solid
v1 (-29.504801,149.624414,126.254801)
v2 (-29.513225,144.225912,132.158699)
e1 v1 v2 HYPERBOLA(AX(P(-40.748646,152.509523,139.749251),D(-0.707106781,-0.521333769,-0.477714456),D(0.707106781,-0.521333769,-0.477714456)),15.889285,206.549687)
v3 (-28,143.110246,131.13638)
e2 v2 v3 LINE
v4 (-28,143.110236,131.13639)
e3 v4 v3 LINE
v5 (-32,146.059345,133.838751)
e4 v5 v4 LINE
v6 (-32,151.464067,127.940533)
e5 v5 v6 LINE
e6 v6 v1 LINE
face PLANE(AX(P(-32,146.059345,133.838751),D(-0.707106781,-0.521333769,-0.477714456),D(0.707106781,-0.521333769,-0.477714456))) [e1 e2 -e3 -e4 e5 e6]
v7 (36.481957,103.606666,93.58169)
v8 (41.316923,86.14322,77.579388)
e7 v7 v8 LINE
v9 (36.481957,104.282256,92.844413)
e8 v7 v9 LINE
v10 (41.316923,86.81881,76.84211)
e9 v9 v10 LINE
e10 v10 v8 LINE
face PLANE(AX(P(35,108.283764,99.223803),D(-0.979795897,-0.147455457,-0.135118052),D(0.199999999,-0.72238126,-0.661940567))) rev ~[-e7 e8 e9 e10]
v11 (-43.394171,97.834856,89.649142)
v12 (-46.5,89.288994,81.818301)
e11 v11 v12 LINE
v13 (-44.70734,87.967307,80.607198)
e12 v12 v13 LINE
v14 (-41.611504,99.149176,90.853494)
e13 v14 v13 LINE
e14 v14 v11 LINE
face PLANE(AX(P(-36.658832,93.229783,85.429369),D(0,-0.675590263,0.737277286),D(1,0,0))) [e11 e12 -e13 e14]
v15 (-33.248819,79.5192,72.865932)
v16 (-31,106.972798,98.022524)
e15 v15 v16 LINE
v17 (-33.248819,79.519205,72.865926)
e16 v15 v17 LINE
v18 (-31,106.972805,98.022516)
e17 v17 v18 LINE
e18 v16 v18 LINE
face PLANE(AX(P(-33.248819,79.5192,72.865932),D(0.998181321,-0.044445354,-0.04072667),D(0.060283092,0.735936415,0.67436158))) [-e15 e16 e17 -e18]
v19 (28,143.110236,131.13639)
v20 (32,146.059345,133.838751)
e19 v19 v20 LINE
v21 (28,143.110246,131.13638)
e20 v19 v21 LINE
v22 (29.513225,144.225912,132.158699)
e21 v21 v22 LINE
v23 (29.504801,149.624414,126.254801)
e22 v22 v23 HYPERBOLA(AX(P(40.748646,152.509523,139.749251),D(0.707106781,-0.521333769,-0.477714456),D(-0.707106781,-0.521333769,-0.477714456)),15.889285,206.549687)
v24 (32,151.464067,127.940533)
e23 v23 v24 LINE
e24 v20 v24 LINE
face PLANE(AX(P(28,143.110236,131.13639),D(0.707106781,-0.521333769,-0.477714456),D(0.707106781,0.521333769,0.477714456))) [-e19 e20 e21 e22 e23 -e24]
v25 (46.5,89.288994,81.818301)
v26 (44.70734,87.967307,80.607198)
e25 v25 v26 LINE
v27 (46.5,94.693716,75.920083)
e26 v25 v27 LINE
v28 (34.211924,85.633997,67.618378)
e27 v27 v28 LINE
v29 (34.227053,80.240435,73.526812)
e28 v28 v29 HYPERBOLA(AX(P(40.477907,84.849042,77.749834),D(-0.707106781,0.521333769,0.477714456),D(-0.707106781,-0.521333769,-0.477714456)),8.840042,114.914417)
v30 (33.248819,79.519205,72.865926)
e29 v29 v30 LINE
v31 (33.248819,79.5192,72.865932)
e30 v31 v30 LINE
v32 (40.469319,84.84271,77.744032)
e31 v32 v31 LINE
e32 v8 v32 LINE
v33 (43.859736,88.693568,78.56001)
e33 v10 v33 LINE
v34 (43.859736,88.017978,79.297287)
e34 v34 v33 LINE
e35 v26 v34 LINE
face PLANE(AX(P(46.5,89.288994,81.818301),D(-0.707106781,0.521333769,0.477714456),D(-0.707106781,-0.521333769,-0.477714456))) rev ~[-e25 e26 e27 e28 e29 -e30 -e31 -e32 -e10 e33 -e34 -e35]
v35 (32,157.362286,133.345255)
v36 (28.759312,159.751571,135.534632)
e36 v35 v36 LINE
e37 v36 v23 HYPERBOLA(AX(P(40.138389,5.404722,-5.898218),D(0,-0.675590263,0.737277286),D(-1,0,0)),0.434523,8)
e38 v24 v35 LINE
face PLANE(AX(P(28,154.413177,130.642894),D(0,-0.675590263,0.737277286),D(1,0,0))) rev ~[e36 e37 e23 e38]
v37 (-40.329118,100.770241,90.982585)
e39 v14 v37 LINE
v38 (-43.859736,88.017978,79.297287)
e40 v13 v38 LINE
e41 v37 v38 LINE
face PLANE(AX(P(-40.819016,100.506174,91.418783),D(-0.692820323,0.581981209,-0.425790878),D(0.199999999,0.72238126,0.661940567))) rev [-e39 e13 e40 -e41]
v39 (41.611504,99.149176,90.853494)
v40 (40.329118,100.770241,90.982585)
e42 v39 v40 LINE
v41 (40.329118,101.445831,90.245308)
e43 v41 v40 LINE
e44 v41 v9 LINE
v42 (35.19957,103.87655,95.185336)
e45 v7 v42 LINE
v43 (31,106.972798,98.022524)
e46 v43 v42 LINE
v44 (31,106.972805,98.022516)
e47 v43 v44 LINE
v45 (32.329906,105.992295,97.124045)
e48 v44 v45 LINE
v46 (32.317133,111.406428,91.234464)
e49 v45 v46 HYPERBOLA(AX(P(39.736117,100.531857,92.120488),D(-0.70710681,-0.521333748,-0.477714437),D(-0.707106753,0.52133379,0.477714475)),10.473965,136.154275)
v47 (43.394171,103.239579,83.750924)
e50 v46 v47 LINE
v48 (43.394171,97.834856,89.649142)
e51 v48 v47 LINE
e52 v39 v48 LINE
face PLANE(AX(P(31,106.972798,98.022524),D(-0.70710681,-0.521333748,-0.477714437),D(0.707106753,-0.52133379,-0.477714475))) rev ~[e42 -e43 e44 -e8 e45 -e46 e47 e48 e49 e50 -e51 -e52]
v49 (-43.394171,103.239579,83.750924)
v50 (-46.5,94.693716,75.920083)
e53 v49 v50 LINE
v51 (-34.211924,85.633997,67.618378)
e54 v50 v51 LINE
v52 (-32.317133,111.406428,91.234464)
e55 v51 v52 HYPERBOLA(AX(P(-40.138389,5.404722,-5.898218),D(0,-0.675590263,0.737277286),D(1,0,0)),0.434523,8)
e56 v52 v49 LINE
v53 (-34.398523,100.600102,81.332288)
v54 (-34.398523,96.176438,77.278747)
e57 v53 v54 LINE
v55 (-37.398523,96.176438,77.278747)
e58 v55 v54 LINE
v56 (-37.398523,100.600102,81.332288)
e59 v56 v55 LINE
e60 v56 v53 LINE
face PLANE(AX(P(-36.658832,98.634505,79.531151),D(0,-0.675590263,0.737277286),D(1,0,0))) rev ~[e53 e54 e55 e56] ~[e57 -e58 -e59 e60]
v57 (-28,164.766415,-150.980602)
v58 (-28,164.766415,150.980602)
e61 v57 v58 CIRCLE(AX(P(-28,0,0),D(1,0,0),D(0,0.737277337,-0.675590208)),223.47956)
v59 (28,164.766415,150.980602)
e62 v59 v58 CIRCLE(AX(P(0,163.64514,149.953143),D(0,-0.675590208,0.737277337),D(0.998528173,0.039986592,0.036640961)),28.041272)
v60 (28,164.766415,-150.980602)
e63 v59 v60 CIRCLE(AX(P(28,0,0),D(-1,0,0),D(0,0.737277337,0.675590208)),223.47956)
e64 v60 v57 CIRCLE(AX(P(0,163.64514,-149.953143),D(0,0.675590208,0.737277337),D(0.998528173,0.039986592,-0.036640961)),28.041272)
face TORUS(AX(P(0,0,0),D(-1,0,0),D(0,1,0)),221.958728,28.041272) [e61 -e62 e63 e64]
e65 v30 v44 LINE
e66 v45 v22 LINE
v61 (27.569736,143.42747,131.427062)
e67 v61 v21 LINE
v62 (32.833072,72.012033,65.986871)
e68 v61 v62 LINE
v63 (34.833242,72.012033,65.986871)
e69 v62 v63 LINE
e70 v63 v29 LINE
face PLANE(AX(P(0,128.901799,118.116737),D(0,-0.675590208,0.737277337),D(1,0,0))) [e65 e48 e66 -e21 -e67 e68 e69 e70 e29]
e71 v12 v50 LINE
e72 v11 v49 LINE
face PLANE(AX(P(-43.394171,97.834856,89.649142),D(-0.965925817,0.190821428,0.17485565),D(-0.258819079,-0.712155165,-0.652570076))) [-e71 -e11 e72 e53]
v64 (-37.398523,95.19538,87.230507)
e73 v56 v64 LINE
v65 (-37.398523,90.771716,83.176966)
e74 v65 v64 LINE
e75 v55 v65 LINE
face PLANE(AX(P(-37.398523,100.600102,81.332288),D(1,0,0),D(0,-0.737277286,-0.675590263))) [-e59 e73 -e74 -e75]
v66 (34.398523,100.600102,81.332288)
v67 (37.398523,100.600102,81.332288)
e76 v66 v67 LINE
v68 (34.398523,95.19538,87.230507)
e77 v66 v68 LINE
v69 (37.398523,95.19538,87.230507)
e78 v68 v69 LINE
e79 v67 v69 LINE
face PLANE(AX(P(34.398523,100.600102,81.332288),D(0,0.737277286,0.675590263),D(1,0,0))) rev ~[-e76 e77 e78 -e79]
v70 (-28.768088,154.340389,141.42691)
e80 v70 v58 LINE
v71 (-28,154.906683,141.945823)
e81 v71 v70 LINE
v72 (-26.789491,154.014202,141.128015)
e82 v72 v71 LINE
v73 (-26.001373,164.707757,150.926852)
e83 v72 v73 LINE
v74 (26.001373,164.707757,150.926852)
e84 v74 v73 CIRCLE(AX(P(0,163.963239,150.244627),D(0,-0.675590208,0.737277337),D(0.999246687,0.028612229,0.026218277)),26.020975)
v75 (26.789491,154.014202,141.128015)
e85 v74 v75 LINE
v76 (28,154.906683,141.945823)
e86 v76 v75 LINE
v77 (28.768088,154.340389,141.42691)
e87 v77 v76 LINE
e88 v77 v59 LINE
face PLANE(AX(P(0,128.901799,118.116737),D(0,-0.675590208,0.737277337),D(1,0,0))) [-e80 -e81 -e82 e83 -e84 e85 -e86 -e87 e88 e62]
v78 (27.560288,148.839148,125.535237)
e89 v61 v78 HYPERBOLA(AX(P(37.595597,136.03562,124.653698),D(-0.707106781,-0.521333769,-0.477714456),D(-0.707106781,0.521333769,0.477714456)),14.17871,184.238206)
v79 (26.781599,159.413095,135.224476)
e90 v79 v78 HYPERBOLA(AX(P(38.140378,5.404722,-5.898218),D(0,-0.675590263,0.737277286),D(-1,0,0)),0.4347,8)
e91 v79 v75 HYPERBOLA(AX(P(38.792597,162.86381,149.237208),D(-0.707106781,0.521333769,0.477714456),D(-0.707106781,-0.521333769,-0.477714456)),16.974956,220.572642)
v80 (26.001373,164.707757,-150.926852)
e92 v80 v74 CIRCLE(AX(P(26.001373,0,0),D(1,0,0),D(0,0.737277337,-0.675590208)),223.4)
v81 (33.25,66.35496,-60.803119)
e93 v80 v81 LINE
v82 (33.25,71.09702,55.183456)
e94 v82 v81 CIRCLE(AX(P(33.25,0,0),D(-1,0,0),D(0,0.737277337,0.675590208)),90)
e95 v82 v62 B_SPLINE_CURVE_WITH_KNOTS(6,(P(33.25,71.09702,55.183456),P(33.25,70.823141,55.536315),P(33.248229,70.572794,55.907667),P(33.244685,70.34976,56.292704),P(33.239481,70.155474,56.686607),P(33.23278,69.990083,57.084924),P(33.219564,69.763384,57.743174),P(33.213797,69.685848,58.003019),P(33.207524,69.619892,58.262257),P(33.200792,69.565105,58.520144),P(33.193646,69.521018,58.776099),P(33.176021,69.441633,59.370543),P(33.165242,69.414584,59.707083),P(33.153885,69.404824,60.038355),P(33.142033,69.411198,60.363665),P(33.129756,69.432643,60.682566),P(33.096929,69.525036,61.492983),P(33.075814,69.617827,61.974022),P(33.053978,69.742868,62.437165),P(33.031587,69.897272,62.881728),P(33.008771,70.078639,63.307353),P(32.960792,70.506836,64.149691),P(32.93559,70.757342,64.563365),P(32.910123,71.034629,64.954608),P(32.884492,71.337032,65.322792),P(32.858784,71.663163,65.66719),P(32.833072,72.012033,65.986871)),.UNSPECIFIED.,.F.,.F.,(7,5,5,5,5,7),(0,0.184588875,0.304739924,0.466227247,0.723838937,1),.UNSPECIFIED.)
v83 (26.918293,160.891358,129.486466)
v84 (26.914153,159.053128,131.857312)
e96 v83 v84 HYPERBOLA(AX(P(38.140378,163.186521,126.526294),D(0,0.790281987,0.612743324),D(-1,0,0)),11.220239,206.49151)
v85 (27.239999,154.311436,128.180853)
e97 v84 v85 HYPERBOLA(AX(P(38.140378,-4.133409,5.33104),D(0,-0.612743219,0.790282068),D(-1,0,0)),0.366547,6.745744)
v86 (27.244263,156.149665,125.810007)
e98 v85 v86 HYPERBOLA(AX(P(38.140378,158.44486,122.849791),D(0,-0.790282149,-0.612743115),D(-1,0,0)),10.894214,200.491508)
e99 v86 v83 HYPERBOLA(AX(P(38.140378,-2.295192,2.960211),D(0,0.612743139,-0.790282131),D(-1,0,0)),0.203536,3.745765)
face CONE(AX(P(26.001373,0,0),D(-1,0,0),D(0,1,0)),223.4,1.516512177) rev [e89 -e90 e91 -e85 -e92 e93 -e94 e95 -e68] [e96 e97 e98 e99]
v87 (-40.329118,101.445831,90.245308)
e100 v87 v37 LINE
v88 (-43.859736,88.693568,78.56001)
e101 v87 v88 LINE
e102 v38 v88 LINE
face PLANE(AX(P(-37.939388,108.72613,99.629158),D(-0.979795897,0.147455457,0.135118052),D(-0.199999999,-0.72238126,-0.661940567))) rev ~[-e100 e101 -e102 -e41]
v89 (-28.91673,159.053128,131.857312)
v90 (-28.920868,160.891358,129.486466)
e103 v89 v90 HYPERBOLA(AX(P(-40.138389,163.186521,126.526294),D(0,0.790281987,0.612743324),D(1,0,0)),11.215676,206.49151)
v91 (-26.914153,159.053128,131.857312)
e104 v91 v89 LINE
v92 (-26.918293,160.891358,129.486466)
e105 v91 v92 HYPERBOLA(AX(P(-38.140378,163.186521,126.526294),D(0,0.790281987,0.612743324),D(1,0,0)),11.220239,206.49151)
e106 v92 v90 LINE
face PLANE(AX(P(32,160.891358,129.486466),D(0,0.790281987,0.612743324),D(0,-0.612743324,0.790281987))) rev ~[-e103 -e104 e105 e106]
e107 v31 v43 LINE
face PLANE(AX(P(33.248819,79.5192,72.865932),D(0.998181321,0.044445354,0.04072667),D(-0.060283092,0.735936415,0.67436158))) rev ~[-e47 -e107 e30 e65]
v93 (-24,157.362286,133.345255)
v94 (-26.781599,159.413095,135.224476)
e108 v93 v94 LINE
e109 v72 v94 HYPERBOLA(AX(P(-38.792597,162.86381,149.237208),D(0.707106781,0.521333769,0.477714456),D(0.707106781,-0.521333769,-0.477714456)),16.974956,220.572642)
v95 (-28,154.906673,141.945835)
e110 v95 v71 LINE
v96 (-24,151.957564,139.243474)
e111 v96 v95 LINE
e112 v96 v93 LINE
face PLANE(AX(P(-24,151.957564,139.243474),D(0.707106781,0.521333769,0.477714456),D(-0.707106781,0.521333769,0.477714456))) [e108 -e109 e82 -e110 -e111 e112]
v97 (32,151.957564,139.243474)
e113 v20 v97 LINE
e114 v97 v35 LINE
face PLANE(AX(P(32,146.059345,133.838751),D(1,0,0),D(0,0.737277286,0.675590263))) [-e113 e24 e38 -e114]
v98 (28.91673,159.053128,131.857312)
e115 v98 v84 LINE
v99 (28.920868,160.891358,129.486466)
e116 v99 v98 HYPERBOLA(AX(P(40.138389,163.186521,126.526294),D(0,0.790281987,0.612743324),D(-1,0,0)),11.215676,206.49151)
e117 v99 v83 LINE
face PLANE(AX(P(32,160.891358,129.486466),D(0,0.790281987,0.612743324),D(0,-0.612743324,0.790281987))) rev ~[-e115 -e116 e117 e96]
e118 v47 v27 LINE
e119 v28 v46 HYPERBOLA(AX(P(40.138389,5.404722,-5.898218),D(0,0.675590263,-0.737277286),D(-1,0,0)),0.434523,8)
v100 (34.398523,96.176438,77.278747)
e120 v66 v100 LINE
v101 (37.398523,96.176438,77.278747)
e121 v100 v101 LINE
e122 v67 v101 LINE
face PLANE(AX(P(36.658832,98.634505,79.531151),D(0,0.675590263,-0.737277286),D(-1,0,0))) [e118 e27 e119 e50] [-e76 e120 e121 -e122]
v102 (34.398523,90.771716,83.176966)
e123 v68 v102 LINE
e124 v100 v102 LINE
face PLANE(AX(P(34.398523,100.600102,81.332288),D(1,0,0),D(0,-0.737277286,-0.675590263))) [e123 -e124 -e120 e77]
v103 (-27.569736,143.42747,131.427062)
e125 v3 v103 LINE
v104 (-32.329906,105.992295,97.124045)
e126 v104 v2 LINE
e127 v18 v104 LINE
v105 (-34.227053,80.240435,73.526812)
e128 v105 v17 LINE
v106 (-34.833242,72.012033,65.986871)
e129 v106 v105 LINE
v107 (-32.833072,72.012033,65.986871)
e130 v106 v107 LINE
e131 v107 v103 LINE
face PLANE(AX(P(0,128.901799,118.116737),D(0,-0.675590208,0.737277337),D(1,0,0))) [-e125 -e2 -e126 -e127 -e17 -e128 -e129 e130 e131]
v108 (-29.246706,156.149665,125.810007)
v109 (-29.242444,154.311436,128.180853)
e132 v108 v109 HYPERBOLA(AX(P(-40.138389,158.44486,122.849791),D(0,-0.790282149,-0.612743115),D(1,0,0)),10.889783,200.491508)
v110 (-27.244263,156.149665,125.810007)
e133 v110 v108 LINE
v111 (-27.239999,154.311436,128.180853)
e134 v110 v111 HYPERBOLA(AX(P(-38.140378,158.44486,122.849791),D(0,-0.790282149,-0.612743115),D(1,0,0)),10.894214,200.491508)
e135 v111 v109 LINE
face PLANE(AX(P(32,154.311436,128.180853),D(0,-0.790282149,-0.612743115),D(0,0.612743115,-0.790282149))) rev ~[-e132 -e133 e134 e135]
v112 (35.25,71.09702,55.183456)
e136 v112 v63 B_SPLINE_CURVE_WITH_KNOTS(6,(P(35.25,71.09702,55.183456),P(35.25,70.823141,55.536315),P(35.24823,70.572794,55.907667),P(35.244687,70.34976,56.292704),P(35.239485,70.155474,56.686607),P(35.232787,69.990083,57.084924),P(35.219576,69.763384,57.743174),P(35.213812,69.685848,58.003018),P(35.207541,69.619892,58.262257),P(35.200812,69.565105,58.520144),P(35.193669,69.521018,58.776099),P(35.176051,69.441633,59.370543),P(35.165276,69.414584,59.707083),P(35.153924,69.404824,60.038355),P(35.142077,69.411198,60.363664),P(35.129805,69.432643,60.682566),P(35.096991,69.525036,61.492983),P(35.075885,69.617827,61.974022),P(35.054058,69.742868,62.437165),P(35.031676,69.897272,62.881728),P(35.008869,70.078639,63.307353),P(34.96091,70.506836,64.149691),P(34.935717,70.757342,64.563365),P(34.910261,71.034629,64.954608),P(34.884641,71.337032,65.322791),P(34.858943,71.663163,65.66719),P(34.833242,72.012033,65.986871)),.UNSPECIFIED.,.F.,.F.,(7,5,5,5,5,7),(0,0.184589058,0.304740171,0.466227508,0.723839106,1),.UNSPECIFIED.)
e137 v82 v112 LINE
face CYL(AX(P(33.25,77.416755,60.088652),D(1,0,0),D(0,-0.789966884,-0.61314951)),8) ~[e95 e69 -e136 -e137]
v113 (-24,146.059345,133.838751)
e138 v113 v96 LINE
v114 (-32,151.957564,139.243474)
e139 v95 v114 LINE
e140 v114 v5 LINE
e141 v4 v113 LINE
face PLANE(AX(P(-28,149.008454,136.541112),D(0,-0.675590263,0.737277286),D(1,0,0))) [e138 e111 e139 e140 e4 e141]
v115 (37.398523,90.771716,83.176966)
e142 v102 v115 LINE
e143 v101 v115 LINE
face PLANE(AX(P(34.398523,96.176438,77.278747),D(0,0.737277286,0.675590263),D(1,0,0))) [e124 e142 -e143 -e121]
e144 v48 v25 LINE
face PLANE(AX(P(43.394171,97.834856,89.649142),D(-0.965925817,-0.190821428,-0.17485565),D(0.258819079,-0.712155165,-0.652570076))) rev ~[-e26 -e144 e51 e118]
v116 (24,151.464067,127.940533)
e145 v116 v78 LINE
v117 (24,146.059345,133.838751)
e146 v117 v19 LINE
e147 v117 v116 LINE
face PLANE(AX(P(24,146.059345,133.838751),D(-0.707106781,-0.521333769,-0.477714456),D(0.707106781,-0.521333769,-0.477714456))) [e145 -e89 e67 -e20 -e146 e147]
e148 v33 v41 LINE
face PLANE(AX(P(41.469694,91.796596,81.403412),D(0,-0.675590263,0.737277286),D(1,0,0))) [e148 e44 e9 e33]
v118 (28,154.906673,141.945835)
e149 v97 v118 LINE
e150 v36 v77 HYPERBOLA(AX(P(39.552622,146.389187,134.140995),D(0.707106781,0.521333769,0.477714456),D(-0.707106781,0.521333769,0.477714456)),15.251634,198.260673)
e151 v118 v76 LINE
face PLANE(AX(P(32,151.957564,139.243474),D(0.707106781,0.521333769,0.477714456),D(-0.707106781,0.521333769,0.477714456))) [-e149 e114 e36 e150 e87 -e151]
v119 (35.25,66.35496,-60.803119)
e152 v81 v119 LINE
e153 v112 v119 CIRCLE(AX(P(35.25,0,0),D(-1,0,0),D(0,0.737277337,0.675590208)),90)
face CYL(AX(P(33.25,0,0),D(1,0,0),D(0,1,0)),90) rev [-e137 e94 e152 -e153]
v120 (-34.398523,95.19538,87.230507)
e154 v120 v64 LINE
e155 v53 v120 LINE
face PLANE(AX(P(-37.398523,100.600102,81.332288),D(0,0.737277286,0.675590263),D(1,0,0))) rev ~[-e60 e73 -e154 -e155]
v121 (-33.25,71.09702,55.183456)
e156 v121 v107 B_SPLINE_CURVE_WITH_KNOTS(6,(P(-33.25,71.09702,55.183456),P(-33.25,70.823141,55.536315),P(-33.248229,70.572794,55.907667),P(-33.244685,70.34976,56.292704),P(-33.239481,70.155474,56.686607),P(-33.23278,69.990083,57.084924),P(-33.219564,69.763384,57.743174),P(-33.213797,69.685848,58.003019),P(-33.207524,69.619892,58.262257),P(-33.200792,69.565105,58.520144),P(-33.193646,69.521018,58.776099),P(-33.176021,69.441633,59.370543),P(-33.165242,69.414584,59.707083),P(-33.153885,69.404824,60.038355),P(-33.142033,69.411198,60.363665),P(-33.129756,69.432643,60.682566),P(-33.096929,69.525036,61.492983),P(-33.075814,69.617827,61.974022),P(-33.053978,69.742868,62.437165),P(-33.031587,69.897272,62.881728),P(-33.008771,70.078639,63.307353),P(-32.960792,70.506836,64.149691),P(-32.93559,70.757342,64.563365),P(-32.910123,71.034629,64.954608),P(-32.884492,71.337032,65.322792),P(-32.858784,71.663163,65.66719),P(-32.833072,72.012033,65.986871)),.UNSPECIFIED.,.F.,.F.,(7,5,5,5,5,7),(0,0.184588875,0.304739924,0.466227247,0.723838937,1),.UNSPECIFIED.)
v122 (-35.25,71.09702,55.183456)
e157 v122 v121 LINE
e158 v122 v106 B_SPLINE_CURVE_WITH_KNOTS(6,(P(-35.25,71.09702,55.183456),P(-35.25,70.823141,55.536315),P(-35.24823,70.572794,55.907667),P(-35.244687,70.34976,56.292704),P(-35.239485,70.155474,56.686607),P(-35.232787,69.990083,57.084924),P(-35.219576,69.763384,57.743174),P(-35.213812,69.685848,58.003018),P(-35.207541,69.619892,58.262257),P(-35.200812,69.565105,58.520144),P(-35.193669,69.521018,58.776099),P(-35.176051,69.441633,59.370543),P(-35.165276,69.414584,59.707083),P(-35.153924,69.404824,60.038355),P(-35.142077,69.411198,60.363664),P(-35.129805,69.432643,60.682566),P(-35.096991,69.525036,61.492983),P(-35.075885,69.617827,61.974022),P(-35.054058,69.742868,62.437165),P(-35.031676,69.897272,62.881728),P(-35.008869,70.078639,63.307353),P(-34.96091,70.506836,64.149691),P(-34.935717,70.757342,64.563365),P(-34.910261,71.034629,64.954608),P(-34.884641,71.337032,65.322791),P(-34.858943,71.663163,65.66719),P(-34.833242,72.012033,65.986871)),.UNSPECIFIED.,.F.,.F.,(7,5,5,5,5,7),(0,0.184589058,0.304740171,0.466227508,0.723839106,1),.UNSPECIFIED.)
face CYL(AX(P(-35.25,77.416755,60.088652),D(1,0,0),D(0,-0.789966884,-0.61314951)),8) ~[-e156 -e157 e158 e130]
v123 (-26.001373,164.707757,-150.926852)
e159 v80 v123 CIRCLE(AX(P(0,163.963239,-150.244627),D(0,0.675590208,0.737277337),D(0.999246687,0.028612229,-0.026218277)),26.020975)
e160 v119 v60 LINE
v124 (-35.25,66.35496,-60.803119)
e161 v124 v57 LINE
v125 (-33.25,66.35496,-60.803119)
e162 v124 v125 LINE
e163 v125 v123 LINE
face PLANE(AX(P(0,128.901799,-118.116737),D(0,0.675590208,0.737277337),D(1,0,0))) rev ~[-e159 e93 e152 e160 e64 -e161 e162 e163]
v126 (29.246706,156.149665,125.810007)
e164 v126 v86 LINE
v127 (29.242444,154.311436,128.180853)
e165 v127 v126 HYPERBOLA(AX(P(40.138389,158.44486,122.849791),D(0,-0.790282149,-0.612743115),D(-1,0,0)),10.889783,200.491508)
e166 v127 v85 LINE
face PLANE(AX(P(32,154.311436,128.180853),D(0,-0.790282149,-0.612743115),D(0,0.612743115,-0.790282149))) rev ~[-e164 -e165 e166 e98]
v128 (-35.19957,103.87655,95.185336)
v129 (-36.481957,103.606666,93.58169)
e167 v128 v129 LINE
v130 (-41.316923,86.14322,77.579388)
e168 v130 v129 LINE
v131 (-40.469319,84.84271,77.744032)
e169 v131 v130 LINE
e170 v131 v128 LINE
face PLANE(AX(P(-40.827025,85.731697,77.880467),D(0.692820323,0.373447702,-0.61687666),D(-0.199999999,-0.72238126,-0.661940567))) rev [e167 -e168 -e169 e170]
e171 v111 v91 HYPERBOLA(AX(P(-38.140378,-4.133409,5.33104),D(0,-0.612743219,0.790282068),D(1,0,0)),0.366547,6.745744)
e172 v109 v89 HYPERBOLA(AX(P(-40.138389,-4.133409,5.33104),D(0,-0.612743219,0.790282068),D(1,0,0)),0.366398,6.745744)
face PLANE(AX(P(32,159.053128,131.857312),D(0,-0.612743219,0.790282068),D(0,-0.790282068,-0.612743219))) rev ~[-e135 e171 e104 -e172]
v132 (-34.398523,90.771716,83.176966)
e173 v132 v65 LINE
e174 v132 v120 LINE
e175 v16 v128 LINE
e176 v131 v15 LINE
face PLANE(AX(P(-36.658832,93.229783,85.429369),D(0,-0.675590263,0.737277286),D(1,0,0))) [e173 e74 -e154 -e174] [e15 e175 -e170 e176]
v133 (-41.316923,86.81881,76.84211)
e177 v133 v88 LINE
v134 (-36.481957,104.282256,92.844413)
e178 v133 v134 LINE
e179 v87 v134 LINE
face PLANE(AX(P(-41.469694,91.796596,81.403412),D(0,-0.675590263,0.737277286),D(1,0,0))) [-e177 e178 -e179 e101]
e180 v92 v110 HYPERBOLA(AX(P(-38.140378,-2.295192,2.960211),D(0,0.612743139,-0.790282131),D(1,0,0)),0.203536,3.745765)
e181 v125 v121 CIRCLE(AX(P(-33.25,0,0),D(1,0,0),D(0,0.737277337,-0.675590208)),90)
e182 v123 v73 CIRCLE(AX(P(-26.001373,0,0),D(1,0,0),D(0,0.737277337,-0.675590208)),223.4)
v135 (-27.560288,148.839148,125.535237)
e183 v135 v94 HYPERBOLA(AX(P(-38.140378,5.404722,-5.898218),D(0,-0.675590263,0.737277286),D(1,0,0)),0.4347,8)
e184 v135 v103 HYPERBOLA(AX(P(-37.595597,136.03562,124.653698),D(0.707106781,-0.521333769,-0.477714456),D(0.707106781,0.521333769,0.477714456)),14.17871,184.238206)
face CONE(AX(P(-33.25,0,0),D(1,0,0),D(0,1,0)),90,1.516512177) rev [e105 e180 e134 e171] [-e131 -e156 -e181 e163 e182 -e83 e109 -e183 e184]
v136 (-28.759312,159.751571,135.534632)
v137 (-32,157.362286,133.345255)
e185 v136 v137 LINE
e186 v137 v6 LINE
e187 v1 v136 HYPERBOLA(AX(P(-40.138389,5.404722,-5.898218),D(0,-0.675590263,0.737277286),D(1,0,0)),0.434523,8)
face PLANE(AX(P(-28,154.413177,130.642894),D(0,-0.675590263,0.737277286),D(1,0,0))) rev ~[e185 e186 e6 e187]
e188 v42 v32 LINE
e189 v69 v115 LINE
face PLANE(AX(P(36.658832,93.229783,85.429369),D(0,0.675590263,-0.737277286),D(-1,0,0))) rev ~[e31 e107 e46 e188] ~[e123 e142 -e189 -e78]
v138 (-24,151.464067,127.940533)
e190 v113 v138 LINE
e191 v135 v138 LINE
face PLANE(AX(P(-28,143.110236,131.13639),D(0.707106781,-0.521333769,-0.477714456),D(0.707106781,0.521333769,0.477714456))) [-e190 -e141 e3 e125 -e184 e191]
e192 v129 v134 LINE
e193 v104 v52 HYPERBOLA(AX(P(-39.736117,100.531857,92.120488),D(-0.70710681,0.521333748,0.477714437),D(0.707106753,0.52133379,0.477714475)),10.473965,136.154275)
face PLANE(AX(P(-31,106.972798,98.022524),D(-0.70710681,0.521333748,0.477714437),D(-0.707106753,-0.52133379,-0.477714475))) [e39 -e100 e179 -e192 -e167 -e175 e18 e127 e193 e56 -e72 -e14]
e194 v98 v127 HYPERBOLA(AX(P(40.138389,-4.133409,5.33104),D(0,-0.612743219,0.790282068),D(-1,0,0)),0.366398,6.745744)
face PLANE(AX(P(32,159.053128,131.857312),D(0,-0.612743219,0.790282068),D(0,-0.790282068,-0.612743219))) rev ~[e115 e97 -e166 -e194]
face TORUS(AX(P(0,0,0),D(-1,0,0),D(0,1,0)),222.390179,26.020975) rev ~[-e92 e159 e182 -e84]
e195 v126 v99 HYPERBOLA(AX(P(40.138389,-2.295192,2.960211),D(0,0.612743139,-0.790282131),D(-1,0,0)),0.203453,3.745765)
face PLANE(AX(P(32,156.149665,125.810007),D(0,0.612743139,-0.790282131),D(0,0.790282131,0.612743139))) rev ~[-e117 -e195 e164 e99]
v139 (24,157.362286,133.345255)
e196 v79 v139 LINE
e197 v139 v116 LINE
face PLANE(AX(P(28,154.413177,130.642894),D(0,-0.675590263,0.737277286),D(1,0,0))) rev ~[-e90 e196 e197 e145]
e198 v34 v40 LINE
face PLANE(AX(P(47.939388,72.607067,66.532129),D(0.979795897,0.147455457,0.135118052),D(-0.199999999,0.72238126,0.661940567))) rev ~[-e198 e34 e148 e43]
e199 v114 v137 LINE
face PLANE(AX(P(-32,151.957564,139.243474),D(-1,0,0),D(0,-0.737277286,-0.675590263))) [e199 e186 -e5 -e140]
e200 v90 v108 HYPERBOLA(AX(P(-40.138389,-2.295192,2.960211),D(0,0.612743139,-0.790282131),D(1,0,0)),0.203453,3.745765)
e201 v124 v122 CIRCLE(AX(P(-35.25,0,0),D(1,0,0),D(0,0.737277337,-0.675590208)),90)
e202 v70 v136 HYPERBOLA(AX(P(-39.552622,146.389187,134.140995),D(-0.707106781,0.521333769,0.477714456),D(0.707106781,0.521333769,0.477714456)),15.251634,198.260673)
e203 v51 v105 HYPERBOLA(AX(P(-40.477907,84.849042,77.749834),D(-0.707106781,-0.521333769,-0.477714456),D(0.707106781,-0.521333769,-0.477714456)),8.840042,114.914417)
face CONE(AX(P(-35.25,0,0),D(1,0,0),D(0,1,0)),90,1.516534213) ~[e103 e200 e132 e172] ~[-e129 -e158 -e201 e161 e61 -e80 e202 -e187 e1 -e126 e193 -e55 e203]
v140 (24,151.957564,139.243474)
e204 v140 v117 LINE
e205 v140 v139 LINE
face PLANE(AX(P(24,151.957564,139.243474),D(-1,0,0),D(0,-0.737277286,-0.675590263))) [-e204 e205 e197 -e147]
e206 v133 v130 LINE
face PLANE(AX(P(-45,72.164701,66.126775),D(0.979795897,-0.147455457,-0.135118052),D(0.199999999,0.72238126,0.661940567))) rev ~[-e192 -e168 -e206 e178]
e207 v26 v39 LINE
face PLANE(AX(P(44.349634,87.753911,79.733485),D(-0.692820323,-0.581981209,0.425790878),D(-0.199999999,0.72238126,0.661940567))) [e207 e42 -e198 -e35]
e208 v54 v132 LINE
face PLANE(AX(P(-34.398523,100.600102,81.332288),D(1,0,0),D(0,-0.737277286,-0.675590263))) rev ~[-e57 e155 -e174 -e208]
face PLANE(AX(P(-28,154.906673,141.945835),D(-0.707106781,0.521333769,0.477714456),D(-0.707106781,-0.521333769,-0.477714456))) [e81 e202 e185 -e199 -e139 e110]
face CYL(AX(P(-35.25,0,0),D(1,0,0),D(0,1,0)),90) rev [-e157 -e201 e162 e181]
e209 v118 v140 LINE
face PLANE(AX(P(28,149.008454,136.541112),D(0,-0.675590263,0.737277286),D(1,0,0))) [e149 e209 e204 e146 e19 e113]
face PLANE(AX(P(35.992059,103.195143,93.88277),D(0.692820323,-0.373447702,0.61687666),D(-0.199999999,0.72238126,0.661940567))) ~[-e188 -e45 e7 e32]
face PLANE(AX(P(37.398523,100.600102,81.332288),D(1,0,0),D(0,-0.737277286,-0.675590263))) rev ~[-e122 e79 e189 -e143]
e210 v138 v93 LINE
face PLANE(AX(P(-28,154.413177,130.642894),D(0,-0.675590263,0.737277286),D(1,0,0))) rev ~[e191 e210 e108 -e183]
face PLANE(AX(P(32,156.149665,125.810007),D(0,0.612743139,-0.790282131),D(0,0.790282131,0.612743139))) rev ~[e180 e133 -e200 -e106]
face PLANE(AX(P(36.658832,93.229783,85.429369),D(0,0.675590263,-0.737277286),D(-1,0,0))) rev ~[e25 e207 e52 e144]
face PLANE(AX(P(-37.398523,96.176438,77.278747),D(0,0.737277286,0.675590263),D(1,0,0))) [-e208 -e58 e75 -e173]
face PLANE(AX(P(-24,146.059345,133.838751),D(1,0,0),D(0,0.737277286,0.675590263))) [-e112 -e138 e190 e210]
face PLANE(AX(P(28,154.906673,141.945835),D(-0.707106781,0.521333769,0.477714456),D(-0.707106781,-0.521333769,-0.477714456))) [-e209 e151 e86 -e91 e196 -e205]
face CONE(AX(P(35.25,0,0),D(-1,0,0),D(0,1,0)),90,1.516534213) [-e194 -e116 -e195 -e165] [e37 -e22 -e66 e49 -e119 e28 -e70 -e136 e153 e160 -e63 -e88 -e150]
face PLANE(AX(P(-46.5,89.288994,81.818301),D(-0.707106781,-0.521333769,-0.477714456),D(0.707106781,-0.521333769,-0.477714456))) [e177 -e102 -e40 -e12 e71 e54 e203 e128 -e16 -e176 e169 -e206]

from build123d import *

# Parameters (mm, degrees)
REVOLUTION_ANGLE = 85
FILLET_R         = 8
PAD_DEPTH        = 8
POCKET_DEPTH     = 2
CHAMFER_SIZE     = 1
SKETCH005_W      = 3
SKETCH005_H      = 7
POCKET001_DEPTH  = 87.696576
POCKET002_DEPTH  = 78.501
SKETCH007_W      = 3
SKETCH007_H      = 6
POCKET003_DEPTH  = 87.696576


with BuildPart() as part:
    # Sketch → Revolution (revolve, symmetric)
    with BuildSketch(Plane.XY) as revolution_sk:
        with BuildLine():
            ThreePointArc((28, 223.47956), (0, 250), (-28, 223.47956))
            Line((-35.25, 90), (-28, 223.47956))
            Line((-35.25, 90), (-33.25, 90))
            Line((-33.25, 90), (-26.001373, 223.4))
            ThreePointArc((26.001373, 223.4), (0, 248.411154), (-26.001373, 223.4))
            Line((26.001373, 223.4), (33.25, 90))
            Line((33.25, 90), (35.25, 90))
            Line((35.25, 90), (28, 223.47956))
        make_face()
    revolve(axis=Axis((0, 0, 0), (1, 0, 0)), revolution_arc=REVOLUTION_ANGLE / 2)
    revolve(revolution_sk.sketch, axis=Axis((0, 0, 0), (-1, 0, 0)), revolution_arc=REVOLUTION_ANGLE / 2)

    # Fillet
    fillet_edges = [part.edges().sort_by_distance(p)[0] for p in [
        (34.25, 66.35496, 60.803119),
        (-34.25, 66.35496, 60.803119),
    ]]
    fillet(fillet_edges, radius=FILLET_R)

    # Sketch002 (on Face5 of Fillet) → Pad (new body)
    with BuildSketch(Plane(origin=(0, 0, 0), x_dir=(1, 0, 0), z_dir=(0, -0.67559, 0.737277))):
        Polygon((-43.394171, 132.697505), (-46.5, 121.106395), (-33.248819, 107.855214), (-31, 145.091677), align=None)
        Polygon((43.394171, 132.697505), (46.5, 121.106395), (33.248819, 107.855214), (31, 145.091677), align=None)
        Polygon((28, 194.106395), (32, 198.106395), (32, 206.106395), (28, 210.106395), (24, 206.106395), (24, 198.106395), align=None)
        Polygon((-28, 194.106395), (-24, 198.106395), (-24, 206.106395), (-28, 210.106395), (-32, 206.106395), (-32, 198.106395), align=None)
    extrude(amount=-PAD_DEPTH)

    # Sketch003 (on Face47 of Pad) → Pocket (cut)
    with BuildSketch(Plane(origin=(0, 0, 0), x_dir=(1, 0, 0), z_dir=(0, -0.67559, 0.737277))):
        Polygon((35, 146.869795), (45, 97.88), (47.939388, 98.48), (37.939388, 147.469795), align=None)
        Polygon((-47.939388, 98.48), (-45, 97.88), (-35, 146.869795), (-37.939388, 147.469795), align=None)
    extrude(amount=-POCKET_DEPTH, mode=Mode.SUBTRACT)

    # Chamfer
    chamfer_edges = [part.edges().sort_by_distance(p)[0] for p in [
        (42.094426, 93.718526, 85.877207),
        (38.89944, 94.199359, 86.317809),
        (-38.89944, 94.199359, 86.317809),
        (-42.094426, 93.718526, 85.877207),
    ]]
    chamfer(chamfer_edges, length=CHAMFER_SIZE)

    # Sketch005 (on Face6 of Chamfer) → Pocket001 (cut, through all)
    with BuildSketch(Plane(origin=(0, 5.404722, -5.898219), x_dir=(1, 0, 0), z_dir=(0, 0.67559, -0.737277))):
        with Locations((-36.047712, 125.078524)):
            Rectangle(SKETCH005_W, SKETCH005_H)
        with Locations((36.047712, 125.078524)):
            Rectangle(SKETCH005_W, SKETCH005_H)
    extrude(amount=-POCKET001_DEPTH, mode=Mode.SUBTRACT)

    # Sketch006 → Pocket002 (cut, through all)
    with BuildSketch(Plane.YZ.offset(32)):
        Polygon((154.311436, 128.180853), (156.149665, 125.810007), (160.891358, 129.486466), (159.053128, 131.857312), align=None)
    extrude(amount=-POCKET002_DEPTH, mode=Mode.SUBTRACT)

    # Sketch007 (on Face6 of Pocket002) → Pocket003 (cut, through all)
    with BuildSketch(Plane(origin=(0, 5.404722, -5.898219), x_dir=(1, 0, 0), z_dir=(0, 0.67559, -0.737277))):
        with Locations((-35.898523, -126.117473)):
            Rectangle(SKETCH007_W, SKETCH007_H)
        with Locations((35.898523, -126.117473)):
            Rectangle(SKETCH007_W, SKETCH007_H)
    extrude(amount=-POCKET003_DEPTH, mode=Mode.SUBTRACT)


solid = part.part
